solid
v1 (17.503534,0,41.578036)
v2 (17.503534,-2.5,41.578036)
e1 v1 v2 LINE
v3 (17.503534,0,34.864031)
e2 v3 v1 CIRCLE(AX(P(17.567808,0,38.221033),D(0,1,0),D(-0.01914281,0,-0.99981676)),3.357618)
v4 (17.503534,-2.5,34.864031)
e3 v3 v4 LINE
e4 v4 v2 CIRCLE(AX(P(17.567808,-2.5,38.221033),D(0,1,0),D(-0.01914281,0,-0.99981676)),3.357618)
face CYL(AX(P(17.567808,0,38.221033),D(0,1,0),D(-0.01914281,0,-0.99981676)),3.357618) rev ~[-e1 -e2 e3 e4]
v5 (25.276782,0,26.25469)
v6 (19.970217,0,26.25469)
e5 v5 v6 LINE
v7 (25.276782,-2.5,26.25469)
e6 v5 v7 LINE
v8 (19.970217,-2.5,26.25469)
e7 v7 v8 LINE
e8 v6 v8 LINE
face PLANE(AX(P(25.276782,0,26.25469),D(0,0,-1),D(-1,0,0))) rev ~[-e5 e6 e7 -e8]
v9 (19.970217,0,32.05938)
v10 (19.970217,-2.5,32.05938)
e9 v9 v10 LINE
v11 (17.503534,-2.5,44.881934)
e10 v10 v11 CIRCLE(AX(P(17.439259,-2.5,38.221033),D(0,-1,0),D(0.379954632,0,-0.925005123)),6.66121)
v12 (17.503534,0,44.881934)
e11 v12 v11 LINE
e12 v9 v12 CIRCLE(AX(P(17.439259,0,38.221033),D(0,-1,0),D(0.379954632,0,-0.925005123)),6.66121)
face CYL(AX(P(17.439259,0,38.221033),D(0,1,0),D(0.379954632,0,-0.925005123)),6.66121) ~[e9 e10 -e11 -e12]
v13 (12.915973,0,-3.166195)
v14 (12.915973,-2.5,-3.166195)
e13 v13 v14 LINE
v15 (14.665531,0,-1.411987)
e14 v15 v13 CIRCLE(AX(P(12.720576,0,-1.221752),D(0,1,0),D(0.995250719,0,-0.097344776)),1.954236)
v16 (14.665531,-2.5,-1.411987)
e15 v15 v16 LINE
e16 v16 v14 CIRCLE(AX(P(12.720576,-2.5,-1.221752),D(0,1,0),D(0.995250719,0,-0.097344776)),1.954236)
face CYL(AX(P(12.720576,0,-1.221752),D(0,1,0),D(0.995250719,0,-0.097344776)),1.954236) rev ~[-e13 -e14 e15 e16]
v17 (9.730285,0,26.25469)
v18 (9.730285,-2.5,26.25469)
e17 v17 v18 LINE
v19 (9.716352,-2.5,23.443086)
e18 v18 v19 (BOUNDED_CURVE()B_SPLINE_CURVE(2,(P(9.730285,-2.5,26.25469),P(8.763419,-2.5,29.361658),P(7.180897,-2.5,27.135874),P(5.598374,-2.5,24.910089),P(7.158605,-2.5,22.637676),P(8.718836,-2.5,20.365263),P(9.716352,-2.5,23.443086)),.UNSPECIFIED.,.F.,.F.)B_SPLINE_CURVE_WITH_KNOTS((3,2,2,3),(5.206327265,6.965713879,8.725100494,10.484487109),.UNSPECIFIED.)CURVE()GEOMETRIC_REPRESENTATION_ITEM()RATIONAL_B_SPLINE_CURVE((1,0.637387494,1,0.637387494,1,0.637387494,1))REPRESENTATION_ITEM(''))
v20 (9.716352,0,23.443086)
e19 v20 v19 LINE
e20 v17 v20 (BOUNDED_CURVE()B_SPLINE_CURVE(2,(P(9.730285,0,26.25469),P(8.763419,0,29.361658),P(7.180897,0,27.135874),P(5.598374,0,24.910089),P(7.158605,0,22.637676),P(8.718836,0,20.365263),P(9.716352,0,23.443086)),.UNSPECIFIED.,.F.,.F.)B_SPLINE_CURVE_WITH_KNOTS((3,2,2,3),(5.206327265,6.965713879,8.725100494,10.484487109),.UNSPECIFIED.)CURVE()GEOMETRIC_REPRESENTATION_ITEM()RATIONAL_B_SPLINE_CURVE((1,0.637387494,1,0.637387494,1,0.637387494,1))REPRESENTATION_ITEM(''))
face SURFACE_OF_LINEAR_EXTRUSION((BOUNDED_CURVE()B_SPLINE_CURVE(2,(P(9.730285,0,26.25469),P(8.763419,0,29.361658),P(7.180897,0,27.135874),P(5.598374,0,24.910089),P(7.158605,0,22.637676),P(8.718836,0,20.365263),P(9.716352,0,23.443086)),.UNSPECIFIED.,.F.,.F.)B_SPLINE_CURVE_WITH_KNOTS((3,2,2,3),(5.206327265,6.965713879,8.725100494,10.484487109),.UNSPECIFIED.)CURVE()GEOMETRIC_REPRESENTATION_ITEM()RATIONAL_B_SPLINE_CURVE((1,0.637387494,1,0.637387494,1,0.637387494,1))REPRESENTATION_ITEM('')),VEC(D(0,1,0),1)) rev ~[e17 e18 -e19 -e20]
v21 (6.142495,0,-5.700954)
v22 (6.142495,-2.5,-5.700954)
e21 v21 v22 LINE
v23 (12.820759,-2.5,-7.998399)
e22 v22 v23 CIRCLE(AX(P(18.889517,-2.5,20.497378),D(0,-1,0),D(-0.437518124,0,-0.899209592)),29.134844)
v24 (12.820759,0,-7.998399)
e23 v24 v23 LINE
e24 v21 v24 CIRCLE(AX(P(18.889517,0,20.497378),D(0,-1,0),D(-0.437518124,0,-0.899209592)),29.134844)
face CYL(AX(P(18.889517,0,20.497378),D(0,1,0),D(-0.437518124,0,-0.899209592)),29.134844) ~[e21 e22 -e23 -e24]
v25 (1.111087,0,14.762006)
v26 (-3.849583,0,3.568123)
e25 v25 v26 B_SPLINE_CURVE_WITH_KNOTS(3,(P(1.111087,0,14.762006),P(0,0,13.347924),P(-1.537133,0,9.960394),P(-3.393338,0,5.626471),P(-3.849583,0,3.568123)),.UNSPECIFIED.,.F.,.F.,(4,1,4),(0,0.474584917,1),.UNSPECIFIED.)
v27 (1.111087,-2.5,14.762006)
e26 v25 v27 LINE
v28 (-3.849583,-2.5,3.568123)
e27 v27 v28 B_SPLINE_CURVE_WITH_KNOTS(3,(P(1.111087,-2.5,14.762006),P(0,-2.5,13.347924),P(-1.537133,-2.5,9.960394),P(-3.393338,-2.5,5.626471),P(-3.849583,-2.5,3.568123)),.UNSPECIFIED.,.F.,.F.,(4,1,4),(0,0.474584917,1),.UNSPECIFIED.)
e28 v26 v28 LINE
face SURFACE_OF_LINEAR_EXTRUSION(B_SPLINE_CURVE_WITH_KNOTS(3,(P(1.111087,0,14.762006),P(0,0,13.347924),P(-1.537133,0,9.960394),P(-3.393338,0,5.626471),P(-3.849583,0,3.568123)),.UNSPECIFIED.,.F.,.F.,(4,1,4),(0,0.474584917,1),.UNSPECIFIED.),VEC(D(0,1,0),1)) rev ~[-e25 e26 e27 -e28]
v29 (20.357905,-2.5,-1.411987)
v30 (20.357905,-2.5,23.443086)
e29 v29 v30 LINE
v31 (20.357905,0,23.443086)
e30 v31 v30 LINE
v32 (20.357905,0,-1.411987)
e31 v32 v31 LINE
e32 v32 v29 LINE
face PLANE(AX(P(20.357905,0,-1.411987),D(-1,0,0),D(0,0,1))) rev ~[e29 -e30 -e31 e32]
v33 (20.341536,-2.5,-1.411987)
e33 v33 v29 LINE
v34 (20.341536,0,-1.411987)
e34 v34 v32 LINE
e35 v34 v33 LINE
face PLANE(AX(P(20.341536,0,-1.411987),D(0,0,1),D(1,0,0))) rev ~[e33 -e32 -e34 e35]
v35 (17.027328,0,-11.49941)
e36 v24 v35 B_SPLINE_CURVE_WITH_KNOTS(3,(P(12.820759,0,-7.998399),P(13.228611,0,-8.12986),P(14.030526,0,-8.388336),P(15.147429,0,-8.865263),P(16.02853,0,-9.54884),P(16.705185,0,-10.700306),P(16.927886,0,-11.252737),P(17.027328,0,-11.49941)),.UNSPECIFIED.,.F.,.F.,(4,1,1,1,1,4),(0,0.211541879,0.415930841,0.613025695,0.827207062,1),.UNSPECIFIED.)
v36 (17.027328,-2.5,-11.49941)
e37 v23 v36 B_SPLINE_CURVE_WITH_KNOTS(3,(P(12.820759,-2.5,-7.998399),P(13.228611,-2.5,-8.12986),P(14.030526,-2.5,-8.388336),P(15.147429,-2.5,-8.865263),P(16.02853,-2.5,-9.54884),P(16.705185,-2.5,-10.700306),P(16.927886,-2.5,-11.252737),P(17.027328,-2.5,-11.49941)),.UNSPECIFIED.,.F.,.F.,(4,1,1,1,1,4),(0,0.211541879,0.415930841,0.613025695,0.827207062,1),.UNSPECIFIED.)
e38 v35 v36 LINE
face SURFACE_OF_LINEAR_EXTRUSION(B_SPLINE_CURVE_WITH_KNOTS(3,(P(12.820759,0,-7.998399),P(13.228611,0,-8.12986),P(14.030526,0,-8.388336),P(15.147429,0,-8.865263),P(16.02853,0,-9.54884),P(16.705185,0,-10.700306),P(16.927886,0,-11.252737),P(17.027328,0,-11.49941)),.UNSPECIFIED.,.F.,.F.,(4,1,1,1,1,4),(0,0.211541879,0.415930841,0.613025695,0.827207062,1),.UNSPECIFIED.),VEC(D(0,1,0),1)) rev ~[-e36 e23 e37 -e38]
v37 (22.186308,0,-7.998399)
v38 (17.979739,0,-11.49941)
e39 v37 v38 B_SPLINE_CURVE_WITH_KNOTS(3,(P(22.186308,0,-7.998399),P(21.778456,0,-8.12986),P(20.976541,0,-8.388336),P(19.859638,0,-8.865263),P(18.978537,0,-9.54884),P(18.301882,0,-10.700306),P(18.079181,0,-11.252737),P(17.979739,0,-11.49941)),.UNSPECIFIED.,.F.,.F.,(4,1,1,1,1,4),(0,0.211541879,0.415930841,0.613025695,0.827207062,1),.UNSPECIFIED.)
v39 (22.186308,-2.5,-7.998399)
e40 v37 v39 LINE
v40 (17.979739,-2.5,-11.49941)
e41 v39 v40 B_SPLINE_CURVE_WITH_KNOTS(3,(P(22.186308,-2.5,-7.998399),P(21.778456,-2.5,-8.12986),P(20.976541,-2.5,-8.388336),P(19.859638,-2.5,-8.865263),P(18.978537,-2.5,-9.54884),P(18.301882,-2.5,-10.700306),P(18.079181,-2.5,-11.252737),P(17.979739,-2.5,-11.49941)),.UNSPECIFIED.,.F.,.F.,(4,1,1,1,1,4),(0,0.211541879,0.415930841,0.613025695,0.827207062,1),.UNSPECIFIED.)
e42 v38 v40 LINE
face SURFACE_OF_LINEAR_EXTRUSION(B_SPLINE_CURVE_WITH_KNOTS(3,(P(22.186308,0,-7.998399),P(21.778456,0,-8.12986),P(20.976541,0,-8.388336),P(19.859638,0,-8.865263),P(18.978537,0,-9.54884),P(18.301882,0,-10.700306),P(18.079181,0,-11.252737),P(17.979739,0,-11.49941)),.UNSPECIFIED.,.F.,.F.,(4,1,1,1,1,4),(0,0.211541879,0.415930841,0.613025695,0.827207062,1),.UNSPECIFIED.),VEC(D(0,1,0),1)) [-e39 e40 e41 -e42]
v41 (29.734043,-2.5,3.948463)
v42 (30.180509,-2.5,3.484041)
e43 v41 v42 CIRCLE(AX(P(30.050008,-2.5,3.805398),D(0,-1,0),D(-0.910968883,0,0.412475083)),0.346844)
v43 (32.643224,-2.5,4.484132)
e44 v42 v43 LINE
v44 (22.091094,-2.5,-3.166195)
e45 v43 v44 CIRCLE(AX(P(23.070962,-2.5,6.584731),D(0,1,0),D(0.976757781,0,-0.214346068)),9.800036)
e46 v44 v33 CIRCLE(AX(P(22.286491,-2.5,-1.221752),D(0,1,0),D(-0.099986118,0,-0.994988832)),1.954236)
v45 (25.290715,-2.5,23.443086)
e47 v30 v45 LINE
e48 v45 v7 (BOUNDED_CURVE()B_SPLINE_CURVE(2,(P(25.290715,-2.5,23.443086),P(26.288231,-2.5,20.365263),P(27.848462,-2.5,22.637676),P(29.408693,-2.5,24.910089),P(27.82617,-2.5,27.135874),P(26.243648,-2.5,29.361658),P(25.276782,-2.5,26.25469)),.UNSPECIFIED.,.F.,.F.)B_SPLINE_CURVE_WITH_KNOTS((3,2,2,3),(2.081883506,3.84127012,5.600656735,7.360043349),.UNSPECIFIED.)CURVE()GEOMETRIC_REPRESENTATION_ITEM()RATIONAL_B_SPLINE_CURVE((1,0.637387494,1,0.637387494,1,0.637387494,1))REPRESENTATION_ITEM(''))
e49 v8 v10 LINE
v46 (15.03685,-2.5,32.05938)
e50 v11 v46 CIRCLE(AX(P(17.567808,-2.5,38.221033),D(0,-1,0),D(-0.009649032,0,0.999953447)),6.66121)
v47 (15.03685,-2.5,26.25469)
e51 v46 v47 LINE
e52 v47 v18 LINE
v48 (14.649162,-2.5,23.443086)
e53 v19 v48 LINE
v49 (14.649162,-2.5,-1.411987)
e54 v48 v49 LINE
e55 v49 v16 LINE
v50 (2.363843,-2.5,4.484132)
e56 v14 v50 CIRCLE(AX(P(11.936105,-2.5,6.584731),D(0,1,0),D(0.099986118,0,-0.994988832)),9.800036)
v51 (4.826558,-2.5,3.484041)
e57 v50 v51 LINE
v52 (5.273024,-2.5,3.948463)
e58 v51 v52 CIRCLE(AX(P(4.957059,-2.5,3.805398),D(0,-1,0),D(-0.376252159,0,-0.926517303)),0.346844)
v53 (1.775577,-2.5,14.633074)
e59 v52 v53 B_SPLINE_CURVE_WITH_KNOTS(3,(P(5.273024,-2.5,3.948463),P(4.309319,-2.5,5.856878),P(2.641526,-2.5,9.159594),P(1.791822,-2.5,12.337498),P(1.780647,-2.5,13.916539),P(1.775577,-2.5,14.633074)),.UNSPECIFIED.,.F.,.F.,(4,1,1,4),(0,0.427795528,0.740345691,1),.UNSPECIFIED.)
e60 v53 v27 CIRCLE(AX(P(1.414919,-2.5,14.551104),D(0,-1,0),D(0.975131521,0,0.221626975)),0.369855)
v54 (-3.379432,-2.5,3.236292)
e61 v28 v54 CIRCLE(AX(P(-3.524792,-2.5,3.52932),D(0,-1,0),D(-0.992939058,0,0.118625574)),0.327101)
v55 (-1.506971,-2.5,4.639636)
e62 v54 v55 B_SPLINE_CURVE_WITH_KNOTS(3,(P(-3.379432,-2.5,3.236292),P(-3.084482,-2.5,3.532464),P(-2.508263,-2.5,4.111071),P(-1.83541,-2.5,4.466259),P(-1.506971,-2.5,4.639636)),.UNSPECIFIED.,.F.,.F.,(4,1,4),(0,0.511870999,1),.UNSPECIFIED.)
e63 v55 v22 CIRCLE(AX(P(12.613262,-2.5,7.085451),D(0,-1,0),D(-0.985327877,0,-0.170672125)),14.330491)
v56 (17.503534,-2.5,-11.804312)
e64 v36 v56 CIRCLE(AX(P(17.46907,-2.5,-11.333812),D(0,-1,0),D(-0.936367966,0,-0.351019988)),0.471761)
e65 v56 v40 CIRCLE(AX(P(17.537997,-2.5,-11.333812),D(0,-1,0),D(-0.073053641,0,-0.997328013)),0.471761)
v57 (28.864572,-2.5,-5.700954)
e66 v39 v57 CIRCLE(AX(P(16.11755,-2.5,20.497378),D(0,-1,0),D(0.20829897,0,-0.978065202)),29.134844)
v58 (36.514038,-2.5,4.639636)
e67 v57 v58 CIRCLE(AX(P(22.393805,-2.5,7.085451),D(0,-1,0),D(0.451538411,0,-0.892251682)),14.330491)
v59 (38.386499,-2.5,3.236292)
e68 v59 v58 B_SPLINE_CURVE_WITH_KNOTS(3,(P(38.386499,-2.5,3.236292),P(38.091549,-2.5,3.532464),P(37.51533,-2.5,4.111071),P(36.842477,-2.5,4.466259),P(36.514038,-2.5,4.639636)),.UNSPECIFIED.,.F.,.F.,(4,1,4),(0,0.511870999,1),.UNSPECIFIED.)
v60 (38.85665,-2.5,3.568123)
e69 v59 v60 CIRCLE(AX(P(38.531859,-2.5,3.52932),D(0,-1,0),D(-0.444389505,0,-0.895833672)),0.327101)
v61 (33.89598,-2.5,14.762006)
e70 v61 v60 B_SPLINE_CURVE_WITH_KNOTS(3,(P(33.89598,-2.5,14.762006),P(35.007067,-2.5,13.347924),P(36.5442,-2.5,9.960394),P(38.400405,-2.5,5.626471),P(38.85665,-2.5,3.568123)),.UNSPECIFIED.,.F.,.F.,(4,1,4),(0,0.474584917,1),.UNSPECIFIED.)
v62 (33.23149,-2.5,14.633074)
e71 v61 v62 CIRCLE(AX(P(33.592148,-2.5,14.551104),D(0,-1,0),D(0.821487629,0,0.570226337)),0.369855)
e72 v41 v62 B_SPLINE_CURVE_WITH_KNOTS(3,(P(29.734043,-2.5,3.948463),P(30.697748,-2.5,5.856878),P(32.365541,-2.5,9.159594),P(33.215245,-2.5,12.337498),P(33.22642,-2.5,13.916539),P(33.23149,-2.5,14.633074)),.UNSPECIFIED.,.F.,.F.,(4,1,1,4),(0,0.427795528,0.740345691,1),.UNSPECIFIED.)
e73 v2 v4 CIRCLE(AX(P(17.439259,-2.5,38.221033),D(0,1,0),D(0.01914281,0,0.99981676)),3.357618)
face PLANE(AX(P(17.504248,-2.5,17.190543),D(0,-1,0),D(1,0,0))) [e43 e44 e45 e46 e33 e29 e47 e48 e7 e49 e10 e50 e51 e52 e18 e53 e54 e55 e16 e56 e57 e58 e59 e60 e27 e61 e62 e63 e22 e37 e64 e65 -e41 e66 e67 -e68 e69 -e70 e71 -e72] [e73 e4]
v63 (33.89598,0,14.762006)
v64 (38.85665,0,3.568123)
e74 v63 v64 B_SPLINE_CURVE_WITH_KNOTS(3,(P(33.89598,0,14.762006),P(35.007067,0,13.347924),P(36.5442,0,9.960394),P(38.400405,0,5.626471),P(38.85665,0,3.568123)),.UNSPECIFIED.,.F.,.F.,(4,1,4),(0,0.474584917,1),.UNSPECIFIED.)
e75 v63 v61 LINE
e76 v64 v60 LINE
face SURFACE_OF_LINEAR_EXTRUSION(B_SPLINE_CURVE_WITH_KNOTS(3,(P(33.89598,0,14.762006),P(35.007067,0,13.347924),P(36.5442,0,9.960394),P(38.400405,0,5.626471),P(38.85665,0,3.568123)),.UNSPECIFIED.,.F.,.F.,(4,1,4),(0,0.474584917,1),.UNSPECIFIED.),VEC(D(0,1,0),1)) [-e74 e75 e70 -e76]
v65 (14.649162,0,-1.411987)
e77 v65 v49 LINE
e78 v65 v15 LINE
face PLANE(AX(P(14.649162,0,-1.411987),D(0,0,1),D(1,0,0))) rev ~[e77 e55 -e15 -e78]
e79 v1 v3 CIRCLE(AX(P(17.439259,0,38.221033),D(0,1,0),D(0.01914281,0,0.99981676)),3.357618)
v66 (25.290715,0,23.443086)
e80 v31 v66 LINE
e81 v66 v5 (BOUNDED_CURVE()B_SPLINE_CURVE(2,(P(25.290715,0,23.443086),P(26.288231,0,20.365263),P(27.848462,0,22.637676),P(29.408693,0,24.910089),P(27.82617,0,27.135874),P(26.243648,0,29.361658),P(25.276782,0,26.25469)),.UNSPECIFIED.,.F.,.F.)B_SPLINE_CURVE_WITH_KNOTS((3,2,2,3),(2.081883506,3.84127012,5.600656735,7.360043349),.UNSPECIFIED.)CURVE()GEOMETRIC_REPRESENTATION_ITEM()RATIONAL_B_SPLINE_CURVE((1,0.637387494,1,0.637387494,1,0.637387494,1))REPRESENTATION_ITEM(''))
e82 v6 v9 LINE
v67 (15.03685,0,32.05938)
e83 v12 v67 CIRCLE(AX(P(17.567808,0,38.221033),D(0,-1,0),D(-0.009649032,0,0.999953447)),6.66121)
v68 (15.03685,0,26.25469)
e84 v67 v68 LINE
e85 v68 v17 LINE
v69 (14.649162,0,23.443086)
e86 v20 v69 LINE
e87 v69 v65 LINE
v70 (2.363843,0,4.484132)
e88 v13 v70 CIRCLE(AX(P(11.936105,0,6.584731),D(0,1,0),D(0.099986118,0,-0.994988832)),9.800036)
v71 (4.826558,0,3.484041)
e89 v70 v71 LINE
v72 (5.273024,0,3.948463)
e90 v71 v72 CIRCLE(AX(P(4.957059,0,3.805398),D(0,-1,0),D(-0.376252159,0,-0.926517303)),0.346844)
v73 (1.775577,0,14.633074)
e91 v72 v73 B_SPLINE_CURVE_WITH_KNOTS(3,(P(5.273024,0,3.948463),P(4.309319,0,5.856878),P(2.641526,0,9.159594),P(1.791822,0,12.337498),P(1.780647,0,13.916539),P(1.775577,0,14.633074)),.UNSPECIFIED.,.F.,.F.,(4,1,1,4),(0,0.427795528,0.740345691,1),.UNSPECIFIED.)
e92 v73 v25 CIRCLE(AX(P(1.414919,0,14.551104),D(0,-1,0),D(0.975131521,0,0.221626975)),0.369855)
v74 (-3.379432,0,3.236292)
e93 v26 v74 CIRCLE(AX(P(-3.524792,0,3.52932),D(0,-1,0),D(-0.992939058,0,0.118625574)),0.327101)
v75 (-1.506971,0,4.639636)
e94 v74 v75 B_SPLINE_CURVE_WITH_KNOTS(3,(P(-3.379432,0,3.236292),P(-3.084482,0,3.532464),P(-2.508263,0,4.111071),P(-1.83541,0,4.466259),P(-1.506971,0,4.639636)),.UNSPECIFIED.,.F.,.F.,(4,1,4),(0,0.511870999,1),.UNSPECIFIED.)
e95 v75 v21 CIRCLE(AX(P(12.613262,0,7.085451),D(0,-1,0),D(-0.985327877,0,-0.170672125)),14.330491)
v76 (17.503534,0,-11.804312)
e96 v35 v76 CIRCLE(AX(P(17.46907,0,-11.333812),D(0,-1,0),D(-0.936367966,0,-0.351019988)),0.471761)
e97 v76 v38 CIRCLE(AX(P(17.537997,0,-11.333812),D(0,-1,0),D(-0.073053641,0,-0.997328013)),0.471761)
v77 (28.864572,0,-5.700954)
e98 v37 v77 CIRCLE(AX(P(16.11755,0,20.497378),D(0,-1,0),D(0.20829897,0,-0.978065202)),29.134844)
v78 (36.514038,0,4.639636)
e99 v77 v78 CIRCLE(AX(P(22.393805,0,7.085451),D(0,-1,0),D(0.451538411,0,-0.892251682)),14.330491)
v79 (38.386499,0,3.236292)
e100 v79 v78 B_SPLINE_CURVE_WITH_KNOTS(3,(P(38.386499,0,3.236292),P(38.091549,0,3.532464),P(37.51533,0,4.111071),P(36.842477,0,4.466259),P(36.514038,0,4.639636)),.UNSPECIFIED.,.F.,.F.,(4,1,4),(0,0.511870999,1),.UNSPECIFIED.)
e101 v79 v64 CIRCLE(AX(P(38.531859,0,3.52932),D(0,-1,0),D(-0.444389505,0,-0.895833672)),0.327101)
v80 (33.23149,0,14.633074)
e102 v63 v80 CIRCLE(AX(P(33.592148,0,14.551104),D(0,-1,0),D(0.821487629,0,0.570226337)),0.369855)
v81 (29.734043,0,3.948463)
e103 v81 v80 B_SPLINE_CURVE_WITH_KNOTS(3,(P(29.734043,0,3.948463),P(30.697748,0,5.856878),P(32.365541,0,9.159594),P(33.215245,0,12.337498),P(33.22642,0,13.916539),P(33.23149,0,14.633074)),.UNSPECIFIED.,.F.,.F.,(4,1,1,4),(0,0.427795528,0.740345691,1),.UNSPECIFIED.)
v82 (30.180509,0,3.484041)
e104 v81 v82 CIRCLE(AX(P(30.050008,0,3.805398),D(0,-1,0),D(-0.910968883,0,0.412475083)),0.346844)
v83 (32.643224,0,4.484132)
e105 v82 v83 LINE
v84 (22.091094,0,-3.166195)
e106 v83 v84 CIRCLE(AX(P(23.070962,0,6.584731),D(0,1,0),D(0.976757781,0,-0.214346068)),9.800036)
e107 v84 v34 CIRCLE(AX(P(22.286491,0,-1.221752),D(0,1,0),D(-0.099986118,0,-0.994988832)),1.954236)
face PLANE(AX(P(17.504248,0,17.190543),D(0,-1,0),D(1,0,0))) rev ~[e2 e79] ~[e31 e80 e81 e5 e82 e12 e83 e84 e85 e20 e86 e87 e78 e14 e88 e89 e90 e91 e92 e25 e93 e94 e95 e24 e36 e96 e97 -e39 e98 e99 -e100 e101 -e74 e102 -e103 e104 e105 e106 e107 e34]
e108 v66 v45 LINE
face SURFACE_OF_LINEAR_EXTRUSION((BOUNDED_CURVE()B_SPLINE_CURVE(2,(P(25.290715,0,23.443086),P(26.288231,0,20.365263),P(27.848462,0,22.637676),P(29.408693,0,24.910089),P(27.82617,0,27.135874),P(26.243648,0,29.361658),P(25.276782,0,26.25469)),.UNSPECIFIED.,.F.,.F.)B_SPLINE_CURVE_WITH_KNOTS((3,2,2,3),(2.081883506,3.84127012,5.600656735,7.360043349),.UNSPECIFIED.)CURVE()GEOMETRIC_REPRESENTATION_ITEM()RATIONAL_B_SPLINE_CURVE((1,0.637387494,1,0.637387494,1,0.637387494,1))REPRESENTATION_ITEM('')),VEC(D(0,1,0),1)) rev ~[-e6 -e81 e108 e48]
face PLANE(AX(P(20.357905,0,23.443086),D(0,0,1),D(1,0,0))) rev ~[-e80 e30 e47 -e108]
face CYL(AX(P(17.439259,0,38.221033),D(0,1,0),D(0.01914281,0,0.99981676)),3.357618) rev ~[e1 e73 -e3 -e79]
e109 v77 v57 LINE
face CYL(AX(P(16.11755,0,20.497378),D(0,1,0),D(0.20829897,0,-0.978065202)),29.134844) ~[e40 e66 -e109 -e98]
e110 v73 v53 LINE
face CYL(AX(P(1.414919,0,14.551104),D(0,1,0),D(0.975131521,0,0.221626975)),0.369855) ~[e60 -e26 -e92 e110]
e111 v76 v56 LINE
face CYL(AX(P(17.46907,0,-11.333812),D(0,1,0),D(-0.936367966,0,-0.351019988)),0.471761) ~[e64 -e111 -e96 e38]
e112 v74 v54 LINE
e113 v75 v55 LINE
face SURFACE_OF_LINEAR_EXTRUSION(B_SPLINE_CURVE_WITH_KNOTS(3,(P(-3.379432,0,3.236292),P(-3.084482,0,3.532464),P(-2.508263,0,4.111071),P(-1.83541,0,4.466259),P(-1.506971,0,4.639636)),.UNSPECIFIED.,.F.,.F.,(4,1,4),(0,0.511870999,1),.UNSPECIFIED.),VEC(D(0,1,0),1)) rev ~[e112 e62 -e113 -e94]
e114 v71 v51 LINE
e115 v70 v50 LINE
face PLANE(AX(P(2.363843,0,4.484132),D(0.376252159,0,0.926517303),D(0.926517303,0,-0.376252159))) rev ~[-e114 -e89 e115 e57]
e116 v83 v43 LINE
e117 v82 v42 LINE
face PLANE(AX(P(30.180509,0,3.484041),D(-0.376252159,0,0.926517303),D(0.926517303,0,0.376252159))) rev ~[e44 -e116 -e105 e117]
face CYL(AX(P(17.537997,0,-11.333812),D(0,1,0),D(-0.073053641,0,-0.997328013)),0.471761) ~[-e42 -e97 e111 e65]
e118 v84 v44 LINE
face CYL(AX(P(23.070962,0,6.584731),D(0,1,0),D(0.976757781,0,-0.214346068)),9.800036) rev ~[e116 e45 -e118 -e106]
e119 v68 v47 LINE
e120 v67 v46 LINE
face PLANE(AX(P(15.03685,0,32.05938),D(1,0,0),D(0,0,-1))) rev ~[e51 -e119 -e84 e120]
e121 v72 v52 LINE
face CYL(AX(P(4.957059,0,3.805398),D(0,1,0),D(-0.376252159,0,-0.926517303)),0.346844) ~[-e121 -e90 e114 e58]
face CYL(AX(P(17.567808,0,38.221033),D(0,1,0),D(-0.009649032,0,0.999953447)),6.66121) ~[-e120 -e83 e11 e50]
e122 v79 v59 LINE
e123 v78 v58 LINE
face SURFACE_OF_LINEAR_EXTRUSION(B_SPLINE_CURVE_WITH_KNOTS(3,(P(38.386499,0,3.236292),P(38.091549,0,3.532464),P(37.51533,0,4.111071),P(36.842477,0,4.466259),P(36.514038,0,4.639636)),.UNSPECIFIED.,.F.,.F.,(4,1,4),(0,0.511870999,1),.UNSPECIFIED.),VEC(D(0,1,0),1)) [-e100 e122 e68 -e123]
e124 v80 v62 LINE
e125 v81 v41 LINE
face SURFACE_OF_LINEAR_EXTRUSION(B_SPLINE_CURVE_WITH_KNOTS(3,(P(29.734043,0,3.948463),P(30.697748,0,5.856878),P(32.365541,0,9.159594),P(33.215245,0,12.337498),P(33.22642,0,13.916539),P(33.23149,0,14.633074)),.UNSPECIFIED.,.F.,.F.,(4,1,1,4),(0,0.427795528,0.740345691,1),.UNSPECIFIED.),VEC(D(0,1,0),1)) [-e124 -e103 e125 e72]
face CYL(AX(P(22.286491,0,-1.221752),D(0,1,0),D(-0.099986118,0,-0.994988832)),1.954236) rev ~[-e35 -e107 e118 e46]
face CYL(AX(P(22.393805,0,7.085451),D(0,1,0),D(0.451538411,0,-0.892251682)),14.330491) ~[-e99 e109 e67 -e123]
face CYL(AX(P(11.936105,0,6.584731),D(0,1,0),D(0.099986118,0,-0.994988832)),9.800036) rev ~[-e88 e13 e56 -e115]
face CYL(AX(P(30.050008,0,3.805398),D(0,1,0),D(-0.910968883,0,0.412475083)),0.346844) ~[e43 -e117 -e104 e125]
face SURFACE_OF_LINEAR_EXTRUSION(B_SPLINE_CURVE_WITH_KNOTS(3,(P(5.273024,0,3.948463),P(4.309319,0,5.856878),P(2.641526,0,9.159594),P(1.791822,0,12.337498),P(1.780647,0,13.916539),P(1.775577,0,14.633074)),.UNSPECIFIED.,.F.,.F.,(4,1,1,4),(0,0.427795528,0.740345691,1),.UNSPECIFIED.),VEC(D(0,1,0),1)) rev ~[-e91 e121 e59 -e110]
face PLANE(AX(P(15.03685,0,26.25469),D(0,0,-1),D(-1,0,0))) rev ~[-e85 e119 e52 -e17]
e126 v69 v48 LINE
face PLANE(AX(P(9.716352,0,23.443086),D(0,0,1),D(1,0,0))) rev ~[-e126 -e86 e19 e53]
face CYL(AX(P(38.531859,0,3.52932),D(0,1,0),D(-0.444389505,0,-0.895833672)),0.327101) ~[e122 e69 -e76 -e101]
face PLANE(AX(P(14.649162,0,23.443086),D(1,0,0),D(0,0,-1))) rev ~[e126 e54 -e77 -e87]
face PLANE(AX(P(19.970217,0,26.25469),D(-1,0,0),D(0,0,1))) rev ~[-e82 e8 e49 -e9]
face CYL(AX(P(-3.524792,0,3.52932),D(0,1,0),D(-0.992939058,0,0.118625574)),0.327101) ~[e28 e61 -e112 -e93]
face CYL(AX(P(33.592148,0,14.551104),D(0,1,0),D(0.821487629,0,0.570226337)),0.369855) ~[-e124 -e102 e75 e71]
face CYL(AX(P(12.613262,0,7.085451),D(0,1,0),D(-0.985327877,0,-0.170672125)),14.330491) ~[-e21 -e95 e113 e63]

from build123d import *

# Parameters (mm, degrees)
F1_DEPTH = 2.5


with BuildPart() as f1:
    # F0 (on Front) → F1 (new body)
    with BuildSketch(Plane.XZ):
        Polygon((19.9702170016, 32.0593795983), (15.0368500231, 32.0593795983), (15.0368500231, 26.2546902991), (9.737966444, 26.2546902991), (9.7163520504, 23.4430860728), (14.649162069, 23.4430860728), (14.649162069, -1.4119866537), (14.6655309945, -1.4119866537), (20.3415360302, -1.4119866537), (20.3579049557, -1.4119866537), (20.3579049557, 23.4430860728), (25.2907149743, 23.4430860728), (25.2767818304, 26.2546902991), (25.2691005807, 26.2546902991), (19.9702170016, 26.2546902991), align=None)
        with BuildLine():
            add(Edge.make_bspline(
                [(25.2907149743, 23.4430860728), (26.2882305831, 20.365262945), (27.8484616427, 22.637675937), (29.4086927023, 24.9100889291), (27.8261704411, 27.1358736943), (26.2436481799, 29.3616584594), (25.2767818304, 26.2546902991)],
                knots=[2.0818835057, 2.0818835057, 2.0818835057, 3.8412701203, 3.8412701203, 5.6006567348, 5.6006567348, 7.3600433494, 7.3600433494, 7.3600433494], degree=2, weights=[1, 0.6373874942, 1, 0.6373874942, 1, 0.6373874942, 1]))
            Line((25.2767818304, 26.2546902991), (25.2907149743, 23.4430860728))
        make_face()
        with BuildLine():
            ThreePointArc((19.9702170016, 32.0593795983), (23.9805343506, 39.4793828594), (17.5035335124, 44.8819335324))
            ThreePointArc((17.5035335124, 44.8819335324), (11.0265326741, 39.4793828594), (15.0368500231, 32.0593795983))
            Line((15.0368500231, 32.0593795983), (19.9702170016, 32.0593795983))
        make_face()
        with BuildLine():
            ThreePointArc((17.5035335124, 34.864031021), (14.2101902268, 38.22103329), (17.5035335124, 41.578035559))
            ThreePointArc((17.5035335124, 41.578035559), (20.796876798, 38.22103329), (17.5035335124, 34.864031021))
        make_face(mode=Mode.SUBTRACT)
        with BuildLine():
            Line((9.7163520504, 23.4430860728), (9.737966444, 26.2546902991))
            Line((9.737966444, 26.2546902991), (9.7302851943, 26.2546902991))
            add(Edge.make_bspline(
                [(9.7302851943, 26.2546902991), (8.7634188448, 29.3616584594), (7.1808965836, 27.1358736943), (5.5983743224, 24.9100889291), (7.158605382, 22.637675937), (8.7188364416, 20.365262945), (9.7163520504, 23.4430860728)],
                knots=[5.206327265, 5.206327265, 5.206327265, 6.9657138795, 6.9657138795, 8.7251004941, 8.7251004941, 10.4844871087, 10.4844871087, 10.4844871087], degree=2, weights=[1, 0.6373874942, 1, 0.6373874942, 1, 0.6373874942, 1]))
        make_face()
        with BuildLine():
            Line((20.3415360302, -1.4119866537), (14.6655309945, -1.4119866537))
            ThreePointArc((14.6655309945, -1.4119866537), (14.104262397, -2.601770472), (12.9159725396, -3.1661951243))
            ThreePointArc((12.9159725396, -3.1661951243), (6.1837849457, -1.3494681757), (2.3638433989, 4.4841321865))
            Line((2.3638433989, 4.4841321865), (-1.5069706133, 4.6396357939))
            ThreePointArc((-1.5069706133, 4.6396357939), (1.0924430649, -1.4370902061), (6.1424945269, -5.7009535458))
            ThreePointArc((6.1424945269, -5.7009535458), (9.411755425, -7.0527797683), (12.8207588568, -7.9983994365))
            add(Edge.make_bspline(
                [(12.8207588568, -7.9983994365), (13.2286113889, -8.1298598572), (14.030525637, -8.3883355957), (15.1474289659, -8.8652634772), (16.0285297181, -9.5488398221), (16.7051850381, -10.7003064264), (16.9278864722, -11.2527367175), (17.0273277909, -11.4994095638)],
                knots=[0, 0, 0, 0, 0.2115418785, 0.4159308405, 0.6130256954, 0.8272070618, 1, 1, 1, 1], degree=3))
            ThreePointArc((17.0273277909, -11.4994095638), (17.2146874841, -11.731113087), (17.5035335124, -11.8043124676))
            ThreePointArc((17.5035335124, -11.8043124676), (17.7923795406, -11.731113087), (17.9797392339, -11.4994095638))
            add(Edge.make_bspline(
                [(22.1863081679, -7.9983994365), (21.7784556358, -8.1298598572), (20.9765413877, -8.3883355957), (19.8596380588, -8.8652634772), (18.9785373066, -9.5488398221), (18.3018819866, -10.7003064264), (18.0791805525, -11.2527367175), (17.9797392339, -11.4994095638)],
                knots=[0, 0, 0, 0, 0.2115418785, 0.4159308405, 0.6130256954, 0.8272070618, 1, 1, 1, 1], degree=3))
            ThreePointArc((22.1863081679, -7.9983994365), (25.5953115998, -7.0527797683), (28.8645724978, -5.7009535458))
            ThreePointArc((28.8645724978, -5.7009535458), (33.9146239598, -1.4370902061), (36.514037638, 4.6396357939))
            Line((36.514037638, 4.6396357939), (32.6432236258, 4.4841321865))
            ThreePointArc((32.6432236258, 4.4841321865), (28.823282079, -1.3494681757), (22.0910944851, -3.1661951243))
            ThreePointArc((22.0910944851, -3.1661951243), (20.9028046278, -2.601770472), (20.3415360302, -1.4119866537))
        make_face()
        with BuildLine():
            Line((-1.5069706133, 4.6396357939), (2.3638433989, 4.4841321865))
            Line((2.3638433989, 4.4841321865), (4.8265583094, 3.4840409858))
            ThreePointArc((4.8265583094, 3.4840409858), (5.207101451, 3.5650237911), (5.2730236415, 3.9484629156))
            add(Edge.make_bspline(
                [(5.2730236415, 3.9484629156), (4.3093190608, 5.8568781898), (2.6415257191, 9.1595939302), (1.7918217485, 12.3374978629), (1.7806474113, 13.9165389117), (1.7755767331, 14.6330744028)],
                knots=[0, 0, 0, 0, 0.4277955284, 0.7403456912, 1, 1, 1, 1], degree=3))
            ThreePointArc((1.7755767331, 14.6330744028), (1.4853684877, 14.9141883565), (1.1110873893, 14.7620057687))
            add(Edge.make_bspline(
                [(1.1110873893, 14.7620057687), (0, 13.3479235297), (-1.5371329646, 9.9603936039), (-3.3933382019, 5.6264709941), (-3.8495825403, 3.5681225897)],
                knots=[0, 0, 0, 0, 0.4745849169, 1, 1, 1, 1], degree=3))
            ThreePointArc((-3.8495825403, 3.5681225897), (-3.713409423, 3.2620784428), (-3.3794315532, 3.2362923957))
            add(Edge.make_bspline(
                [(-3.3794315532, 3.2362923957), (-3.0844818323, 3.5324643819), (-2.5082629775, 4.1110710752), (-1.8354097748, 4.4662585074), (-1.5069706133, 4.6396357939)],
                knots=[0, 0, 0, 0, 0.5118709991, 1, 1, 1, 1], degree=3))
        make_face()
        with BuildLine():
            Line((30.1805087153, 3.4840409858), (32.6432236258, 4.4841321865))
            Line((32.6432236258, 4.4841321865), (36.514037638, 4.6396357939))
            add(Edge.make_bspline(
                [(38.3864985779, 3.2362923957), (38.091548857, 3.5324643819), (37.5153300022, 4.1110710752), (36.8424767996, 4.4662585074), (36.514037638, 4.6396357939)],
                knots=[0, 0, 0, 0, 0.5118709991, 1, 1, 1, 1], degree=3))
            ThreePointArc((38.3864985779, 3.2362923957), (38.7204764477, 3.2620784428), (38.856649565, 3.5681225897))
            add(Edge.make_bspline(
                [(33.8959796354, 14.7620057687), (35.0070670247, 13.3479235297), (36.5441999893, 9.9603936039), (38.4004052267, 5.6264709941), (38.856649565, 3.5681225897)],
                knots=[0, 0, 0, 0, 0.4745849169, 1, 1, 1, 1], degree=3))
            ThreePointArc((33.8959796354, 14.7620057687), (33.521698537, 14.9141883565), (33.2314902917, 14.6330744028))
            add(Edge.make_bspline(
                [(29.7340433832, 3.9484629156), (30.6977479639, 5.8568781898), (32.3655413056, 9.1595939302), (33.2152452762, 12.3374978629), (33.2264196134, 13.9165389117), (33.2314902917, 14.6330744028)],
                knots=[0, 0, 0, 0, 0.4277955284, 0.7403456912, 1, 1, 1, 1], degree=3))
            ThreePointArc((29.7340433832, 3.9484629156), (29.7999655737, 3.5650237911), (30.1805087153, 3.4840409858))
        make_face()
    extrude(amount=F1_DEPTH)


solid = f1.part
